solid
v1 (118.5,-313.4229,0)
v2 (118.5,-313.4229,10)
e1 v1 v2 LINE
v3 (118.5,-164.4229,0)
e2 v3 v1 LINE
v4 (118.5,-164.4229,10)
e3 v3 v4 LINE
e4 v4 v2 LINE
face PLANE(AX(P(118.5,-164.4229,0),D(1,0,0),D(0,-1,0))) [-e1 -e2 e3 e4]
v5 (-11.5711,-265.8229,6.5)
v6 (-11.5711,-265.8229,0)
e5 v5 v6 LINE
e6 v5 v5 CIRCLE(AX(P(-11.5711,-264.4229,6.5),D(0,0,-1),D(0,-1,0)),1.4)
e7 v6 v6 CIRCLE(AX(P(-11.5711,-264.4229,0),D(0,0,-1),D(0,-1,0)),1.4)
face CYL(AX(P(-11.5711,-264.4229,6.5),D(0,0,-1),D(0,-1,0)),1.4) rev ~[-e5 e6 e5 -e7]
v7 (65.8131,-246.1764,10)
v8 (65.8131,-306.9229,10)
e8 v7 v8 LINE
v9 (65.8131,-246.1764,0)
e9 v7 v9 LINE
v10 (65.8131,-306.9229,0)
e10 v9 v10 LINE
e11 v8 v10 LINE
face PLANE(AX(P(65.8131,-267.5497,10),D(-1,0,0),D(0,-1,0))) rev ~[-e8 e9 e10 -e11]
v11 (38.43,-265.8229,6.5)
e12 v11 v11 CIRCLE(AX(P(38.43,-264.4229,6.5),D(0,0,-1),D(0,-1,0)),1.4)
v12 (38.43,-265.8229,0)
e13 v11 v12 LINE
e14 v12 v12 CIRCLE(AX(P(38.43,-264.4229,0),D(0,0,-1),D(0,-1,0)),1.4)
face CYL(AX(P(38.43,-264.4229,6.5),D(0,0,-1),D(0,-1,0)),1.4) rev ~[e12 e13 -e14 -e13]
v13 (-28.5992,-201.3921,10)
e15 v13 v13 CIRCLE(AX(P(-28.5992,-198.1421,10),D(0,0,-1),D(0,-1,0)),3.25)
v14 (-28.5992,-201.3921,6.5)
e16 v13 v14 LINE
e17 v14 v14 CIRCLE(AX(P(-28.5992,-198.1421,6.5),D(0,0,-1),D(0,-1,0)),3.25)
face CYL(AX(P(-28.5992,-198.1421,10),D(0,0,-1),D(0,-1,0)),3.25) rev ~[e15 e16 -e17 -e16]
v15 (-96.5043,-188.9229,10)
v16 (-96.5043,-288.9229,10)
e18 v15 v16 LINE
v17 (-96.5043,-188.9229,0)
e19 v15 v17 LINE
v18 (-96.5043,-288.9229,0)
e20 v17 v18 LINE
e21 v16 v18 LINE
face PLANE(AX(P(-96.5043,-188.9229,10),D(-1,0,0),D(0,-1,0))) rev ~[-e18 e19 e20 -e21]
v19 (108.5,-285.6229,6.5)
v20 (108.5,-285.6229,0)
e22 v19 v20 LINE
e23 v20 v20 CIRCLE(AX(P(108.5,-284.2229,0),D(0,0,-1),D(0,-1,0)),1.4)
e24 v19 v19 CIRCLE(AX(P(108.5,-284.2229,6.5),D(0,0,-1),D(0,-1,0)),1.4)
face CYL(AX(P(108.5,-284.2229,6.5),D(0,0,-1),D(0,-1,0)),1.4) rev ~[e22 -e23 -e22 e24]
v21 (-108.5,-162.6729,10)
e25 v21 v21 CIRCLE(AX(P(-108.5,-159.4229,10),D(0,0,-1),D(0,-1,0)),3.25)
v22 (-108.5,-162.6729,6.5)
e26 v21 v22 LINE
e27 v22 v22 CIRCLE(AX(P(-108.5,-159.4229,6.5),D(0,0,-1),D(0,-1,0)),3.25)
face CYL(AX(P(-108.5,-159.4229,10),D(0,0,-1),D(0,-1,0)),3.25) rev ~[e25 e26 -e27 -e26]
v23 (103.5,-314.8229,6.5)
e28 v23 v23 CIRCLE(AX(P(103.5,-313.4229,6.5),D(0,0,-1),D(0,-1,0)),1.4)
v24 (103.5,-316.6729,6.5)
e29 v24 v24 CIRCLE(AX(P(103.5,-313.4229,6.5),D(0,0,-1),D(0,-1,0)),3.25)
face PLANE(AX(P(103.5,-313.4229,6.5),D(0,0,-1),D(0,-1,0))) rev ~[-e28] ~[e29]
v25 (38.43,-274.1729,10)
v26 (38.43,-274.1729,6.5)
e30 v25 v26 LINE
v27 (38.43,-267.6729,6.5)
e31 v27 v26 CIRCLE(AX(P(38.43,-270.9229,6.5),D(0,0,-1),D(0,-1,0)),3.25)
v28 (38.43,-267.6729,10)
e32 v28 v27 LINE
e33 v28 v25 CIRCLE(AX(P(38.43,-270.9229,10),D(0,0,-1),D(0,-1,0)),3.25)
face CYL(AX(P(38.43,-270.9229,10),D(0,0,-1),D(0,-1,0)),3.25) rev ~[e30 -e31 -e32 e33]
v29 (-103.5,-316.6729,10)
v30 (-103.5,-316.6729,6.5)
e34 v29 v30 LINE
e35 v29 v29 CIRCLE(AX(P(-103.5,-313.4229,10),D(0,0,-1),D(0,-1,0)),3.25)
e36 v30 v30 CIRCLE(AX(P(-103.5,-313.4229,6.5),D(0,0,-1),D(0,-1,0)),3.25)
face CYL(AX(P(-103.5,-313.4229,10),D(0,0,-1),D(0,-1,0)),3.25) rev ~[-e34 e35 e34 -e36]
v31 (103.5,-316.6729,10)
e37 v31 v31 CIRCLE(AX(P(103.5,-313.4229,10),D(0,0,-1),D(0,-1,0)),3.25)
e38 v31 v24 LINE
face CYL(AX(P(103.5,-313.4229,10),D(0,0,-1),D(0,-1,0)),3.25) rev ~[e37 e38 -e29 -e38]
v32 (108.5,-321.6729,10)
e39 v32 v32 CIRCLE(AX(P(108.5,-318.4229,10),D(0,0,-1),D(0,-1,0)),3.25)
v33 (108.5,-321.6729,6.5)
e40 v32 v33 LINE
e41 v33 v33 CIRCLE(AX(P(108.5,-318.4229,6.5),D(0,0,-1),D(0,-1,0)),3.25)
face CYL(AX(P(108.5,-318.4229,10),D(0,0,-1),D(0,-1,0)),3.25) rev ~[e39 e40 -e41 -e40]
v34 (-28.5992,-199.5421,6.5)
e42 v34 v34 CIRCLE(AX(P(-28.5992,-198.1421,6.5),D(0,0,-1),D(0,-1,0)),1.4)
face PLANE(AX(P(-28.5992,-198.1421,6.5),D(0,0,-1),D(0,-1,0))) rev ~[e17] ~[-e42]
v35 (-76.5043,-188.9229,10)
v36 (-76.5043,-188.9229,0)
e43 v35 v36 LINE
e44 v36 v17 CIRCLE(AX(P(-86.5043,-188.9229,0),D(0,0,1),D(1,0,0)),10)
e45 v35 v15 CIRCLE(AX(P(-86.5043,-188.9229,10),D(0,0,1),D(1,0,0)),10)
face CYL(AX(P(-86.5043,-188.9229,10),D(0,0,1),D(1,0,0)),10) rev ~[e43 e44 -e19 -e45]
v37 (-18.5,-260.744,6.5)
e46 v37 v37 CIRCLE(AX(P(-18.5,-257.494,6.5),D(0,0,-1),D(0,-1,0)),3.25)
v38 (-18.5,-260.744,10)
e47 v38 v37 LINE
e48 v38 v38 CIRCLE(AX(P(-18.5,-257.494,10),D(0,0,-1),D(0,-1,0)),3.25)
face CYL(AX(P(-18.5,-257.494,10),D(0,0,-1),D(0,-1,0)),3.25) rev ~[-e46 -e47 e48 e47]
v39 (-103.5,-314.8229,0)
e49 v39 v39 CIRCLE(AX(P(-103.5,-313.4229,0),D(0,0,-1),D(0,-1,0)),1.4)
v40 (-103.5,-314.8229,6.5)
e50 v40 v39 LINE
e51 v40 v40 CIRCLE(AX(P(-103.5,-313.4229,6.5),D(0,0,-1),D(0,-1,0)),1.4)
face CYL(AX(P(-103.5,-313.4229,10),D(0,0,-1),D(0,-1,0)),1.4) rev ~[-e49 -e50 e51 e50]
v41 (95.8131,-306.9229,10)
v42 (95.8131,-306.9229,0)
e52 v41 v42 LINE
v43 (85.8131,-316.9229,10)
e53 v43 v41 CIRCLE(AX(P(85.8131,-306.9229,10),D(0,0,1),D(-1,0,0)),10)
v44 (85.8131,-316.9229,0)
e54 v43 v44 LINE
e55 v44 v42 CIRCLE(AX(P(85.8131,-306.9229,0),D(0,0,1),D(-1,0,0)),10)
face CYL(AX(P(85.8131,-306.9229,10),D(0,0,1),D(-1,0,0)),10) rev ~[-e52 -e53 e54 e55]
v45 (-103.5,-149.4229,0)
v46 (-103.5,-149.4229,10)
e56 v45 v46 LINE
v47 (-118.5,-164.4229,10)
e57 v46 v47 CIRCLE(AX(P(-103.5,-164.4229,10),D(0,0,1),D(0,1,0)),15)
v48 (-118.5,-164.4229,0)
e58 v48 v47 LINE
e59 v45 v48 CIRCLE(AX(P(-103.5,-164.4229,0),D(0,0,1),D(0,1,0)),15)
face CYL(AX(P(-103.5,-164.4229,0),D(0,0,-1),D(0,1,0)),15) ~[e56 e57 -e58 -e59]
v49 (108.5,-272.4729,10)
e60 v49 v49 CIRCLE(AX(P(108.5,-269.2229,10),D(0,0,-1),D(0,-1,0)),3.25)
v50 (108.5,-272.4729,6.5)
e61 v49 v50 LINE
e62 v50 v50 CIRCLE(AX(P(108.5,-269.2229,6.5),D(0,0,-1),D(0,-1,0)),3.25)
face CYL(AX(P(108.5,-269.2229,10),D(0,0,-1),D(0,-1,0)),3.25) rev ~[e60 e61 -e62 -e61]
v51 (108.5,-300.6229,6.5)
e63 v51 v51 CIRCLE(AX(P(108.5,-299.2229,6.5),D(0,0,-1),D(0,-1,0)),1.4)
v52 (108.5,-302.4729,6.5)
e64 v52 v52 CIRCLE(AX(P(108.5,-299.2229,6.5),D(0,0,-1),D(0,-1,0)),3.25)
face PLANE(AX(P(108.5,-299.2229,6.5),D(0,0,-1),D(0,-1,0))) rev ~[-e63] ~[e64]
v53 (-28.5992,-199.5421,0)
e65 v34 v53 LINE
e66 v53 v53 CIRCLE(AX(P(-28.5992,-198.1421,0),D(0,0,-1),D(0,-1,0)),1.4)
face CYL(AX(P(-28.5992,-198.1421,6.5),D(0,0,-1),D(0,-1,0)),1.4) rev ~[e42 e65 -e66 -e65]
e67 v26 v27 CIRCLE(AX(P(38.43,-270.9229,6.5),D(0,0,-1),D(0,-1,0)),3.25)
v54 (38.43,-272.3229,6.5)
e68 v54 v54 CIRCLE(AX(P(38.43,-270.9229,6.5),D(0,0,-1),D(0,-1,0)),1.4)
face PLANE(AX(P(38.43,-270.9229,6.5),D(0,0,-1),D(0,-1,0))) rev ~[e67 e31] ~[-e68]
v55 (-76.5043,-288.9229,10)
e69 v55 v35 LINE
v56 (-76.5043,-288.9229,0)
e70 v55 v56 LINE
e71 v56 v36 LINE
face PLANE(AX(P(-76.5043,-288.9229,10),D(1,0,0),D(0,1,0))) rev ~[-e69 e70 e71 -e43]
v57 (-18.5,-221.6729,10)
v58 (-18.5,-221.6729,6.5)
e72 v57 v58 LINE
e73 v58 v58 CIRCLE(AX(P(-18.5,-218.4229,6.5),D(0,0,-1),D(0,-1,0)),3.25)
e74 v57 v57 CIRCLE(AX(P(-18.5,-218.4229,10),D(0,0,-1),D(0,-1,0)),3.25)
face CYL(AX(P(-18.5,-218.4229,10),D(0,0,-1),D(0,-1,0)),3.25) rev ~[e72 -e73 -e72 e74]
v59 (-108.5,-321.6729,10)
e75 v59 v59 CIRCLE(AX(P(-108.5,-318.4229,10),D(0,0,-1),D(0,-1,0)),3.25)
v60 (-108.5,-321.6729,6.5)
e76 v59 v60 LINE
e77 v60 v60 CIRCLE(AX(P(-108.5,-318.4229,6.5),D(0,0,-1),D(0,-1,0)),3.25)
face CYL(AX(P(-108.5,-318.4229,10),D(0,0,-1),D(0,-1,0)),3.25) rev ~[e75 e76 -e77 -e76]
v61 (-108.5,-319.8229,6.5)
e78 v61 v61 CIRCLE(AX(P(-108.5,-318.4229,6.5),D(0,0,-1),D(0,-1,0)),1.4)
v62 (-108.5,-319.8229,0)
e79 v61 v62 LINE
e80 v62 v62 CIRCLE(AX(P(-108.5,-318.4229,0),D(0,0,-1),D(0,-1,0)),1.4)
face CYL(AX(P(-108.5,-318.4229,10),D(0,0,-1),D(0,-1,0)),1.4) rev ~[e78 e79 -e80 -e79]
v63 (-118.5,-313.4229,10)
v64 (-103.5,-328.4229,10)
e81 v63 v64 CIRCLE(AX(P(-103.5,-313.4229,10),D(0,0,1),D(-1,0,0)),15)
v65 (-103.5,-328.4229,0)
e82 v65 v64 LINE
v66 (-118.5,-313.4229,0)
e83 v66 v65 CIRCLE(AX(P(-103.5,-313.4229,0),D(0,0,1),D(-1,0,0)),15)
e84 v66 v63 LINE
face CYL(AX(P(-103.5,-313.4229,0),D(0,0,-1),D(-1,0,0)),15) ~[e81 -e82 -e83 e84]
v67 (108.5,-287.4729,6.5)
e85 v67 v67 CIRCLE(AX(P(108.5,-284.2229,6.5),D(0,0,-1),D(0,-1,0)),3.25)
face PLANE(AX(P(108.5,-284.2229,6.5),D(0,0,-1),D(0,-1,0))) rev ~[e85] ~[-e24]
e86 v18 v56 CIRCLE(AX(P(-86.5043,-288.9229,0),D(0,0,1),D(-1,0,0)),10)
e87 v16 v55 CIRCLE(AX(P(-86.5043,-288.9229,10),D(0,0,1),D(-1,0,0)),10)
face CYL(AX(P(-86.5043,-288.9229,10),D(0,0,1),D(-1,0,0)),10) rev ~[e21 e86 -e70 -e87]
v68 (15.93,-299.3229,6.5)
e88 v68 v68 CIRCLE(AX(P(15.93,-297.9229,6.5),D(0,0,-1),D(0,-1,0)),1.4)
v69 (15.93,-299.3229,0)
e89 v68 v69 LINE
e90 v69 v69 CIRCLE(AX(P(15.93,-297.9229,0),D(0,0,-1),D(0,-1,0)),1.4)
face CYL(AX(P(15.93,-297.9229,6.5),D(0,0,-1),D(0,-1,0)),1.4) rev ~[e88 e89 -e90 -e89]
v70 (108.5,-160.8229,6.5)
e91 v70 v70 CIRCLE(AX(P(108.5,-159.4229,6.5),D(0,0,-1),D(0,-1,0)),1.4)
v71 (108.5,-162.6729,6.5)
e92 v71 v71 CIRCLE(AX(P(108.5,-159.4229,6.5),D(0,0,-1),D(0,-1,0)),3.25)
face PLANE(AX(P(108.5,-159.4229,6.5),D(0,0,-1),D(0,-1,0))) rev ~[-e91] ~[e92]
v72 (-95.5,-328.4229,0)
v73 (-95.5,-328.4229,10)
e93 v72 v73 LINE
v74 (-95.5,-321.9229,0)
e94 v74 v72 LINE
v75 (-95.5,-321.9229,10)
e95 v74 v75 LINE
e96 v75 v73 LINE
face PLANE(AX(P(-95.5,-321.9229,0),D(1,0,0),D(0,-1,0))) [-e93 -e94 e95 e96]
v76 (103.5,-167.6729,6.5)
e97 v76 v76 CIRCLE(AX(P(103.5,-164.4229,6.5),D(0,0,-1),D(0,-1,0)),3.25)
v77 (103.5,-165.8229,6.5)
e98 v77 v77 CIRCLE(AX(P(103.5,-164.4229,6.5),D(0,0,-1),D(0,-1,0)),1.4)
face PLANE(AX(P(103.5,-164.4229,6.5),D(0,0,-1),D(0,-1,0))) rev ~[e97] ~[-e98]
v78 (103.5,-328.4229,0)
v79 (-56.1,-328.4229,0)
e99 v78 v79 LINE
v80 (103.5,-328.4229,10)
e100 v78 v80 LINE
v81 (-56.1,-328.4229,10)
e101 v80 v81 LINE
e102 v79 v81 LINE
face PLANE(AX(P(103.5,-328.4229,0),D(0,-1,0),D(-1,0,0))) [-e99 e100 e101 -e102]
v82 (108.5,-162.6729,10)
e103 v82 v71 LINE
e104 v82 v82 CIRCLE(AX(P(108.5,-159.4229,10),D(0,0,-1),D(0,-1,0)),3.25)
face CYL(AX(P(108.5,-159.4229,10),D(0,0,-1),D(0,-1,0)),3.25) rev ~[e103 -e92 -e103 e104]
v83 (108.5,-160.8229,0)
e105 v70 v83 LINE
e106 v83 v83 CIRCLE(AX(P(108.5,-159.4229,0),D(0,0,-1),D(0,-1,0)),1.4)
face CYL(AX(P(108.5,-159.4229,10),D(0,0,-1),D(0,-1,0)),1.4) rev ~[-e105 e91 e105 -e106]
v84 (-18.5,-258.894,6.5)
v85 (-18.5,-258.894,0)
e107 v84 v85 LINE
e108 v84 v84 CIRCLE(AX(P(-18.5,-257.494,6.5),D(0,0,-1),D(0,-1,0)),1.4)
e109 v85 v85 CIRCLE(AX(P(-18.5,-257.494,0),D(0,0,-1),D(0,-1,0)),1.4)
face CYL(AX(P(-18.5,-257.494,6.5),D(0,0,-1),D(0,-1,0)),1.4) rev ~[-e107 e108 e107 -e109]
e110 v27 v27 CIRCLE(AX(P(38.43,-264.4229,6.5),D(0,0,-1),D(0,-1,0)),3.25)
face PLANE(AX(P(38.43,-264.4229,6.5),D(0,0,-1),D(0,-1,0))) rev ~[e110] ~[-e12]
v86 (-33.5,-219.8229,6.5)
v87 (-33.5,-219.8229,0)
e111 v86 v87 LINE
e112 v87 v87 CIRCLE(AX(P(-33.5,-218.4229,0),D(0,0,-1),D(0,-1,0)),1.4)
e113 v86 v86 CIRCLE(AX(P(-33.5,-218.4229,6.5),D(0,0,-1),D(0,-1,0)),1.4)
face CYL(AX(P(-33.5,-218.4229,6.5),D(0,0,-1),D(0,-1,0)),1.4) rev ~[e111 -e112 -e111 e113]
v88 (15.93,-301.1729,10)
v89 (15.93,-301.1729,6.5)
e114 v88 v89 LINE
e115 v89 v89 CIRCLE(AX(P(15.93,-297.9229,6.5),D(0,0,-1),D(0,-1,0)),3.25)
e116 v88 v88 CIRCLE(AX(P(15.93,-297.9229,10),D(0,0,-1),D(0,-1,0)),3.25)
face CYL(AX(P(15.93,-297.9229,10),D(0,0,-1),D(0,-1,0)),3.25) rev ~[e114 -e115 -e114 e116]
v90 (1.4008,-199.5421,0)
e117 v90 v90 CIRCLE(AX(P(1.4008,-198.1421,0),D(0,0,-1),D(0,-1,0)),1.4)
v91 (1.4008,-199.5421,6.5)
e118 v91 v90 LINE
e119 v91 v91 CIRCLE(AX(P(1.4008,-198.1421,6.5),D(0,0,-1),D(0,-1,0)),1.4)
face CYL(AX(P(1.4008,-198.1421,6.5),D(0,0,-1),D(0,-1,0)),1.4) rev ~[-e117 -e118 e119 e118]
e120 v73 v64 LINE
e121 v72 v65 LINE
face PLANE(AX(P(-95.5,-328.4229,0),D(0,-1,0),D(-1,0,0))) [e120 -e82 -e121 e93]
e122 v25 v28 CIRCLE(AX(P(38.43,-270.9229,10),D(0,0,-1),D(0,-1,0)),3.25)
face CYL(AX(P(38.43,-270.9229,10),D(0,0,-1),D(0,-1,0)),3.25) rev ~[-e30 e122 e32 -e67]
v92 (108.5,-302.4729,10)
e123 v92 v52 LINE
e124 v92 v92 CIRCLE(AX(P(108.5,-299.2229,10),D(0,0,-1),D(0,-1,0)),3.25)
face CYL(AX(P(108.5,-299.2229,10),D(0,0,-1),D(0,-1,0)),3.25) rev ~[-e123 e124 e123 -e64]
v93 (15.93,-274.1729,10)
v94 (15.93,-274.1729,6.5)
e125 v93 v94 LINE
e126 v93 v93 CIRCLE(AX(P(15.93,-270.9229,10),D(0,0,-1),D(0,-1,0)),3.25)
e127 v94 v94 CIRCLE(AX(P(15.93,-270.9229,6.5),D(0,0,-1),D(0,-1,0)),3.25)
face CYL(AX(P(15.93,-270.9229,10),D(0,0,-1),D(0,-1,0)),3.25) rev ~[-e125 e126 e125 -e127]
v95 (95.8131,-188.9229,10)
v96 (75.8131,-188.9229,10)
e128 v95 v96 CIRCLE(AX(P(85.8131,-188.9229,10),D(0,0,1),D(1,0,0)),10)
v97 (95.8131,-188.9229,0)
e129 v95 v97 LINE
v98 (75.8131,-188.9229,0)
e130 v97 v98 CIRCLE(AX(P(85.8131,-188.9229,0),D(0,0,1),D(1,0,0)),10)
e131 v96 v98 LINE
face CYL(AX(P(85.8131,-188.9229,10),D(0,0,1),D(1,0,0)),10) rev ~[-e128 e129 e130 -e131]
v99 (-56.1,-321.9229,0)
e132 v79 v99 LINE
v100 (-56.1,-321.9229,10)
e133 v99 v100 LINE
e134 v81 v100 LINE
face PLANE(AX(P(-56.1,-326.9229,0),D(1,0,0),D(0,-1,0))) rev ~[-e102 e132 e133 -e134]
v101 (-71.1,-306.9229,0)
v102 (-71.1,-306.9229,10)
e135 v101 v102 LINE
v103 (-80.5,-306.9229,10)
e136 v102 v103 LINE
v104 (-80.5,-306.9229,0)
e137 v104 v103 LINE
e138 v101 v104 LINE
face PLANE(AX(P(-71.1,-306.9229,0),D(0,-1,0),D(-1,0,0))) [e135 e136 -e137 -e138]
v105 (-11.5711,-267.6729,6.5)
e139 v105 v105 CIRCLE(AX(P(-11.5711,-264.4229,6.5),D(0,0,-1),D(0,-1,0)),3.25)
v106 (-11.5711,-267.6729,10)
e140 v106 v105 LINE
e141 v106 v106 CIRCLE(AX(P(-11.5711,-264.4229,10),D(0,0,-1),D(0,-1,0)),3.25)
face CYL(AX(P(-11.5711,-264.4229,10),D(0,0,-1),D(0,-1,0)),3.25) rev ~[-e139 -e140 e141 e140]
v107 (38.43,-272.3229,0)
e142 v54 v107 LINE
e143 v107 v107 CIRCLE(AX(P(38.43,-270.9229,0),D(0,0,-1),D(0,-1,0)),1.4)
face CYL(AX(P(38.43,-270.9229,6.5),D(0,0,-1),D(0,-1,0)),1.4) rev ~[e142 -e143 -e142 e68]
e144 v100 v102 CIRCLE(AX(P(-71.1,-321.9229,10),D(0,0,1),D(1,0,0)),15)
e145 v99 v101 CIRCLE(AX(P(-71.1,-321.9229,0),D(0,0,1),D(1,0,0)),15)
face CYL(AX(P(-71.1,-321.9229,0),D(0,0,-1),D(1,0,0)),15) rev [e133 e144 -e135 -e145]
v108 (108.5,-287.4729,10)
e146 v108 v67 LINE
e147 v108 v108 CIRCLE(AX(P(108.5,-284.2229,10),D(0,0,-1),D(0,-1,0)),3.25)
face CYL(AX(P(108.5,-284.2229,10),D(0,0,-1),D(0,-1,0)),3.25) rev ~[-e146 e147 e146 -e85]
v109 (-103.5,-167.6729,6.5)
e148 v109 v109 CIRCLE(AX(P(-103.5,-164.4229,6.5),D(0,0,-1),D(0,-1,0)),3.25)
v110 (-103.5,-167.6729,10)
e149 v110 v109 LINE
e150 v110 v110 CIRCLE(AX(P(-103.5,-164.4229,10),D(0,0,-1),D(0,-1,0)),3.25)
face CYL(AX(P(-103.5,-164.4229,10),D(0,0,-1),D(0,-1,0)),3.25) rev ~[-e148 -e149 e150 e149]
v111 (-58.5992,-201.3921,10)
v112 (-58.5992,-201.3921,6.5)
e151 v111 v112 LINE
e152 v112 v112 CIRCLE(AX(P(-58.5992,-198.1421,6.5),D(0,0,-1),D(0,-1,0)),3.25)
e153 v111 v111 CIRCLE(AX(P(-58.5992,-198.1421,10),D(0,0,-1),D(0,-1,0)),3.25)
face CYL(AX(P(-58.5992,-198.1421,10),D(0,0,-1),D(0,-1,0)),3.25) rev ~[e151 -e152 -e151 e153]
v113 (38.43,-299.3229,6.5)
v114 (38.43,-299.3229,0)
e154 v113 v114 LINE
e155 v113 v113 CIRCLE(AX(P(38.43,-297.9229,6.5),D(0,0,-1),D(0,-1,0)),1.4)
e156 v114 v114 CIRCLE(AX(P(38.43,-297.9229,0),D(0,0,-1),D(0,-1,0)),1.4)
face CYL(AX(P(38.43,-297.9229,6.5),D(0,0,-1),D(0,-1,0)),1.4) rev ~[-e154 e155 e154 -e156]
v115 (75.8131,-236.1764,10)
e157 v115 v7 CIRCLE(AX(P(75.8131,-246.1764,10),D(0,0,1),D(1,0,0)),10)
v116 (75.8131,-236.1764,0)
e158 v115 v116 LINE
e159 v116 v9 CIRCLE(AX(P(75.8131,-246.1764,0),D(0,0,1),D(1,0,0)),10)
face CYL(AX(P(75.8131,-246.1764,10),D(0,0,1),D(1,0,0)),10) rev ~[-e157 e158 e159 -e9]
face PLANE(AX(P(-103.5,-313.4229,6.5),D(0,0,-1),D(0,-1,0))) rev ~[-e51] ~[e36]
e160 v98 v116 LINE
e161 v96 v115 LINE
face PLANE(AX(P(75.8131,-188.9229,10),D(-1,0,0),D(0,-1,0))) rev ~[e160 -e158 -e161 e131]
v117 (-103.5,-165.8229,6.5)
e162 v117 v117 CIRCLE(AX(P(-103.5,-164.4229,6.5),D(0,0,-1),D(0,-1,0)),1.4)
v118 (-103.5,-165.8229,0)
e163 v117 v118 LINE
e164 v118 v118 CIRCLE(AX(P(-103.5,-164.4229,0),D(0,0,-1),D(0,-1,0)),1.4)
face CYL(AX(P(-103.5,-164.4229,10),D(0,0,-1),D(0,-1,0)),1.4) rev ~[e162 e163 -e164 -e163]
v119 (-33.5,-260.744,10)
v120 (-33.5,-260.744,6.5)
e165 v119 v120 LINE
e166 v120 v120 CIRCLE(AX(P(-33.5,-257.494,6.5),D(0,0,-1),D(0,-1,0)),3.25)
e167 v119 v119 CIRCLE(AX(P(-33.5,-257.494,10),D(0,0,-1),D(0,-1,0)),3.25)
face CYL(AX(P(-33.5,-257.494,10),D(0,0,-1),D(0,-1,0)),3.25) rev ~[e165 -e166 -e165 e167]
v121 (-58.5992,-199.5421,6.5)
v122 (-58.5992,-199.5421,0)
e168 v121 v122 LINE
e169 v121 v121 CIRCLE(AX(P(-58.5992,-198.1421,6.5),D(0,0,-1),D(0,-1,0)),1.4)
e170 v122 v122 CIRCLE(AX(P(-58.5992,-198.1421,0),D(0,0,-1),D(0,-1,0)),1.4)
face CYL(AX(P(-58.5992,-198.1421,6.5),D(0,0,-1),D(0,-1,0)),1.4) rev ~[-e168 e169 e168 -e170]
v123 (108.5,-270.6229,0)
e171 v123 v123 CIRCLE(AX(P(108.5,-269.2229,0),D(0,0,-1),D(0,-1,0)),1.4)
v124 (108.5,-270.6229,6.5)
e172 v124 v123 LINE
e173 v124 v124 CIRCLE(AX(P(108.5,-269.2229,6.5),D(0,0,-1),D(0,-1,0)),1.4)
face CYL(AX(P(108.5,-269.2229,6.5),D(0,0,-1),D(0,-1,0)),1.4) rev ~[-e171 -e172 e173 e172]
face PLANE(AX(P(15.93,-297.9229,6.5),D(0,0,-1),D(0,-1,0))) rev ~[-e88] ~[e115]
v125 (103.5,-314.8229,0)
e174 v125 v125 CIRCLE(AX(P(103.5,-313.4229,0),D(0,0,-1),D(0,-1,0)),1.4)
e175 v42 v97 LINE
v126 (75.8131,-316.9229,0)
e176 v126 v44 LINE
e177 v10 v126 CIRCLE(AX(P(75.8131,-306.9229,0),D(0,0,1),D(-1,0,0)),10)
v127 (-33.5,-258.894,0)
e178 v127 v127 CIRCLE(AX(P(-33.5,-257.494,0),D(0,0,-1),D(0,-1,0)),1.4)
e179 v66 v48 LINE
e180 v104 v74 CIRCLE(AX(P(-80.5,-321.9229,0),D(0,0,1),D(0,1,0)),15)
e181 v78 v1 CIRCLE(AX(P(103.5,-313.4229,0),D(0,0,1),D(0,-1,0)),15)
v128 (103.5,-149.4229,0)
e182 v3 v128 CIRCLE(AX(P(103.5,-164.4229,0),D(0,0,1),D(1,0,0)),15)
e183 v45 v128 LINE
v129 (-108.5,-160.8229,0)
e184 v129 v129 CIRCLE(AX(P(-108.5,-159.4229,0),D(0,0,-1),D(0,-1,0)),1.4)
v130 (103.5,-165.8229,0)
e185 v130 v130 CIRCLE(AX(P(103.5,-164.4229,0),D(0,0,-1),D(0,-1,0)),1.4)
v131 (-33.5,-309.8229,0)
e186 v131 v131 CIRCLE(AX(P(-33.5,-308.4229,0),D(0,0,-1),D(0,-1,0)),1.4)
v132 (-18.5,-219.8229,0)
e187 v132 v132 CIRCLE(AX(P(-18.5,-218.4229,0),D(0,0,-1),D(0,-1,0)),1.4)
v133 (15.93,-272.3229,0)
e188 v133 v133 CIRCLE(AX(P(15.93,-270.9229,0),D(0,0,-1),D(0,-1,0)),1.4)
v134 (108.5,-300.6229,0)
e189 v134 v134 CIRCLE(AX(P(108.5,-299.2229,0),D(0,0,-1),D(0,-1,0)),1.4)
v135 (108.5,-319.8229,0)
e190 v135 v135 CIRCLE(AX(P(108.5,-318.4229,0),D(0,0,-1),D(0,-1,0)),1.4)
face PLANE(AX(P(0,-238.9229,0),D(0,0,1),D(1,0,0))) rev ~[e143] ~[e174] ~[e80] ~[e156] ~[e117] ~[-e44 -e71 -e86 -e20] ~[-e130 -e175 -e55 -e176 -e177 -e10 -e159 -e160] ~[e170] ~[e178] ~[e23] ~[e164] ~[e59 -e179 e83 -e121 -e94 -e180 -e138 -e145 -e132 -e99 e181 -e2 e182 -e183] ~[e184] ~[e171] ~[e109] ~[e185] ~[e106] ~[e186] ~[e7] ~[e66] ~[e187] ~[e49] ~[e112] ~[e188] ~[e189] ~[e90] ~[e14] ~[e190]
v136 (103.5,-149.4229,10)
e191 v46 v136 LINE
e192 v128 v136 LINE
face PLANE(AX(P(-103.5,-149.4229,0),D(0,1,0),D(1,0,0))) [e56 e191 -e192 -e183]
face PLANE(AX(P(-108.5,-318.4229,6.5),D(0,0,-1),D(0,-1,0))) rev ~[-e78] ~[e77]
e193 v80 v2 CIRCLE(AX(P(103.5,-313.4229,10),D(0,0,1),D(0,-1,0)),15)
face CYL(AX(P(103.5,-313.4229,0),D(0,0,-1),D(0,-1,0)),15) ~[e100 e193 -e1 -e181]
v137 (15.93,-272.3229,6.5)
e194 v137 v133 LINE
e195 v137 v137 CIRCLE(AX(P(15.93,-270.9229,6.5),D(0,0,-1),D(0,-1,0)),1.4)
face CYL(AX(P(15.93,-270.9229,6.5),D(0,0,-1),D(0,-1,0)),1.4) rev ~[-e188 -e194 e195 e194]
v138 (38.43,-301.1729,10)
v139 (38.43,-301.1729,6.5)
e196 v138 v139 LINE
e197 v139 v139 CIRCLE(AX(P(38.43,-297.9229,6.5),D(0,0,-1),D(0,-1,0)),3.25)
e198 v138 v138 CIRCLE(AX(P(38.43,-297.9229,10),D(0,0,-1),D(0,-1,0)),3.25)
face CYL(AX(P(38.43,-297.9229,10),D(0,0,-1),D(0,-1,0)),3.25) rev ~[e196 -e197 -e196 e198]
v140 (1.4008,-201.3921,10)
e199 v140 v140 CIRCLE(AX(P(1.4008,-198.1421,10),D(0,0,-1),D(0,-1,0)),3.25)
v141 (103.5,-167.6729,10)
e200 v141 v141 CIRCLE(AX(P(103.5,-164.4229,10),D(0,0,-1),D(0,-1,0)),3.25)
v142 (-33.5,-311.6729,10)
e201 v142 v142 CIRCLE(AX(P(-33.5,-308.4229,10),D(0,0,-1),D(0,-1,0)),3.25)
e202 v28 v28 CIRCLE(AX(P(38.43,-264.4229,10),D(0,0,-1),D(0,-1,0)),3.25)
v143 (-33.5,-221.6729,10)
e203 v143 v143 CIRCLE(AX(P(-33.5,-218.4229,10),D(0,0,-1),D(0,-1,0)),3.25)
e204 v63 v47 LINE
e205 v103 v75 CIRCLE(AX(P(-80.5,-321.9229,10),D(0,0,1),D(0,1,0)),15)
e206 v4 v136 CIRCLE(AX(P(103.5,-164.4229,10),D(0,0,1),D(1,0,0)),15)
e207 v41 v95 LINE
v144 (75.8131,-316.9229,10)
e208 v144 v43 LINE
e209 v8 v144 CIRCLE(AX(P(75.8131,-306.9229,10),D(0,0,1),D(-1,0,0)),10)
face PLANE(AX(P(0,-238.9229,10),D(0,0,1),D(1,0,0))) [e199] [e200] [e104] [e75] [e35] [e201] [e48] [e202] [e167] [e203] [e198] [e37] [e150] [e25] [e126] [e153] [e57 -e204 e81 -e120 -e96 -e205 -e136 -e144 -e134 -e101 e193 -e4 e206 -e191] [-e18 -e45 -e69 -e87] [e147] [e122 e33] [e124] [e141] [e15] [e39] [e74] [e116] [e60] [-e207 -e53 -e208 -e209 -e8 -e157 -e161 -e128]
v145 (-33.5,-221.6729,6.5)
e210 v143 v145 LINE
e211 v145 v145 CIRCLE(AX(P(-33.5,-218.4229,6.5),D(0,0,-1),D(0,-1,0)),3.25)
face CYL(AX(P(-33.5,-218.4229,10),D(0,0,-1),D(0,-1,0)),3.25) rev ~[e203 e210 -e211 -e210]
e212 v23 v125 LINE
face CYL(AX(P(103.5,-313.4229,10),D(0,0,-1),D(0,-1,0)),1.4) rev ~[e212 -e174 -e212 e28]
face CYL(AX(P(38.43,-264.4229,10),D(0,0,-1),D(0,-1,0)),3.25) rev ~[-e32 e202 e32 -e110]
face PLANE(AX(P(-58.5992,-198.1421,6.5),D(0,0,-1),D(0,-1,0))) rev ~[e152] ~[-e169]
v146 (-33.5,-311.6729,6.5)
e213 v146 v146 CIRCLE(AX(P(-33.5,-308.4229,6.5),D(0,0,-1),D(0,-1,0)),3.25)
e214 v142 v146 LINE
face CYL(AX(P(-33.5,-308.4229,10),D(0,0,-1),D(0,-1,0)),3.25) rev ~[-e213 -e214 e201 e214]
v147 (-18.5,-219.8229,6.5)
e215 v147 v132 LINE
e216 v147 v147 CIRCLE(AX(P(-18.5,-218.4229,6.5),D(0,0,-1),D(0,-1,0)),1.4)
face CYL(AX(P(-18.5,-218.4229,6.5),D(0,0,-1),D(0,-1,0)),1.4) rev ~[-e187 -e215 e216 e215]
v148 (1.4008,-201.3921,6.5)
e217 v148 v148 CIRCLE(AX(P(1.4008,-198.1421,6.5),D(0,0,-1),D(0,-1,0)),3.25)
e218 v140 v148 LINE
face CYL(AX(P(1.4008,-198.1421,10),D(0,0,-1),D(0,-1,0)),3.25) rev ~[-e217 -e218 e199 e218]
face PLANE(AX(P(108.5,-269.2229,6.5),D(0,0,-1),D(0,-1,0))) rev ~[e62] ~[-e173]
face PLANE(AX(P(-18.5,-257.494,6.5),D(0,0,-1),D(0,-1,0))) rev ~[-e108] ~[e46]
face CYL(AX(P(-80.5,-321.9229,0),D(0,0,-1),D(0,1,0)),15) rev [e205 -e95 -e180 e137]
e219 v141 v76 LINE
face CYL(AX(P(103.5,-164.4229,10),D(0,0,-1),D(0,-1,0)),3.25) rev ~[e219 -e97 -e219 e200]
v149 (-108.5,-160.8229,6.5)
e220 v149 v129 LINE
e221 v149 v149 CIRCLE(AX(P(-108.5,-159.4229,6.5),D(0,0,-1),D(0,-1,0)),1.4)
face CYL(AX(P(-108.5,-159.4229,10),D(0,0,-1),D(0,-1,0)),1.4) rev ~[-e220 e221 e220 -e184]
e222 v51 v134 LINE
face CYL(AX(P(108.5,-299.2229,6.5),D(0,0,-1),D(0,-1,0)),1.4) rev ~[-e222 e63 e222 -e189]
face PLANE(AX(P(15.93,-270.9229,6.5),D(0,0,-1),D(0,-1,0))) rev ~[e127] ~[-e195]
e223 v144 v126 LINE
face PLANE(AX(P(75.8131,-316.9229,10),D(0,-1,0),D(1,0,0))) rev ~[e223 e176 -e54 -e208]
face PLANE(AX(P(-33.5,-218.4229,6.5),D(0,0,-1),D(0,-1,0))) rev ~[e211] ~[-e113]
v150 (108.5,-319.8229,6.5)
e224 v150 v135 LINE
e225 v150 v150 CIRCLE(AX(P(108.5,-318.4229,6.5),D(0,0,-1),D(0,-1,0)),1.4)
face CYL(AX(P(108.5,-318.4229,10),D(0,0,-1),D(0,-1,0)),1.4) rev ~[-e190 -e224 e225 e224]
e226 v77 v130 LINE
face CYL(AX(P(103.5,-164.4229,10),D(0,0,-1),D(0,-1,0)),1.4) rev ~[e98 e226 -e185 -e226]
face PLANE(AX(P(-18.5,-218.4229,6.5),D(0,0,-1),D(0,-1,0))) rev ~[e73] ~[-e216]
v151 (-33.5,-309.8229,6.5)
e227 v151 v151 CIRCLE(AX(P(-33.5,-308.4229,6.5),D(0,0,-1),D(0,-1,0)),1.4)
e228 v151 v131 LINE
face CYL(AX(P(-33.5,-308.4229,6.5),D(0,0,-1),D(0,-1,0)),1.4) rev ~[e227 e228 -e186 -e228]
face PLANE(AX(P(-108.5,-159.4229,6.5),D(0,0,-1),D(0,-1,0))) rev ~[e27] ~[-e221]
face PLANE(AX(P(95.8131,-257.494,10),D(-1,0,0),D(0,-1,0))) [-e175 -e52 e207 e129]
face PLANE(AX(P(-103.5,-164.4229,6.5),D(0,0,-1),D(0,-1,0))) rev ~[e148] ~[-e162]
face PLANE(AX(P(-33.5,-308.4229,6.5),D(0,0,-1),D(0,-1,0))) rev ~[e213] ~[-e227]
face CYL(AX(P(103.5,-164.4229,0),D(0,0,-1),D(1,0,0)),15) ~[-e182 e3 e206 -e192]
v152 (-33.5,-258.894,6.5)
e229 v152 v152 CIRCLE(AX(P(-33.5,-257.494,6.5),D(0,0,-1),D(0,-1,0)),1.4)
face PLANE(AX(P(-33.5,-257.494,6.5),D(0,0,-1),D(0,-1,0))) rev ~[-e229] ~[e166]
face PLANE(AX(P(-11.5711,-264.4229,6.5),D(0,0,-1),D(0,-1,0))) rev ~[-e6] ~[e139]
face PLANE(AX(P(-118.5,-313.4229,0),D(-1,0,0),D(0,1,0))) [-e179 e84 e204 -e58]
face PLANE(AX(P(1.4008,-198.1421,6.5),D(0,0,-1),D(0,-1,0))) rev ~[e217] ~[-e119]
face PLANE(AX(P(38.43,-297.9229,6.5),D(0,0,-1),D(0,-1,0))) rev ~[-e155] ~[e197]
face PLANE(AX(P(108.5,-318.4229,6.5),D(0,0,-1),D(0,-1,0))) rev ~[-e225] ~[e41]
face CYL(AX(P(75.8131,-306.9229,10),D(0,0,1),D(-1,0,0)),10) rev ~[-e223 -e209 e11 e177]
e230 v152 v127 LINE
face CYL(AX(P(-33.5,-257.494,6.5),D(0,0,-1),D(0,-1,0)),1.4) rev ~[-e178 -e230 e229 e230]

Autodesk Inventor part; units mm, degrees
ref_plane "YZ Plane" through (0, 0, 0) normal (1, 0, 0) x (0, 1, 0)
ref_plane "XZ Plane" through (0, 0, 0) normal (0, 1, 0) x (-1, 0, 0)
ref_plane "XY Plane" through (0, 0, 0) normal (0, 0, 1) x (1, 0, 0)
ref_plane "Arbeitsebene1" through (0, -238.9229, -15) normal (0, 0, 1) x (1, 0, 0)
sketch "Skizze1" plane through (0, -238.9229, 0) normal (0, 0, 1) x (1, 0, 0)
  line L0 (-108.9123, -85.8768) -> (-108, -84.9645) construction
  line L1 (-108, -84.9645) -> (-105.5687, -87.3957) construction
  arc A0 (-105.5687, -87.3957) -> (-101.5, -88) centre (-101.5, -74) ccw construction
  line L2 (-101.5, -88) -> (-95.5, -88) construction
  line L3 (-95.5, -88) -> (-95.5, -75) construction
  arc A1 (-88.5, -68) -> (-95.5, -75) centre (-88.5, -75) ccw construction
  line L4 (-88.5, -68) -> (-62.5, -68) construction
  arc A2 (-55.5, -75) -> (-62.5, -68) centre (-62.5, -75) ccw construction
  line L5 (-55.5, -75) -> (-55.5, -88) construction
  line L6 (-55.5, -88) -> (101.7625, -88) construction
  arc A3 (101.7625, -88) -> (115.5, -74) centre (101.5, -74.0025) ccw construction
  line L7 (115.5, -74) -> (115.5, 74) construction
  arc A4 (115.5, 74) -> (101.7625, 88) centre (101.5, 74.0025) ccw construction
  line L8 (101.7625, 88) -> (-101.5, 88) construction
  arc A5 (-101.5, 88) -> (-115.5, 74) centre (-101.5, 74) ccw construction
  line L9 (-115.5, 74) -> (-115.5, -74) construction
  arc A6 (-115.5, -74) -> (-108.9123, -85.8768) centre (-101.5, -74) ccw construction
  line L10 (101.6984, -82) -> (101.3016, -82) construction
  arc A7 (101.3016, -82) -> (101.6984, -82) centre (101.5, -74.0025) ccw construction
  line L11 (95.5, 73) -> (95.5, 82) construction
  arc A8 (95.5, 73) -> (100.5, 68) centre (100.5, 73) ccw construction
  line L12 (109.5, 68) -> (100.5, 68) construction
  line L13 (109.5, 68) -> (109.5, -68) construction
  line L14 (100.5, -68) -> (109.5, -68) construction
  arc A9 (100.5, -68) -> (95.5, -73) centre (100.5, -73) ccw construction
  line L15 (95.5, -82) -> (95.5, -73) construction
  line L16 (95.5, -82) -> (-49.5, -82) construction
  line L17 (-49.5, -82) -> (-49.5, -75) construction
  arc A10 (-49.5, -75) -> (-62.5, -62) centre (-62.5, -75) ccw construction
  line L18 (-62.5, -62) -> (-88.5, -62) construction
  arc A11 (-88.5, -62) -> (-99.5163, -68.0977) centre (-88.5, -75) ccw construction
  arc A12 (-99.5163, -68.0977) -> (-100.5, -68) centre (-100.5, -73) ccw construction
  line L19 (-109.5, -68) -> (-100.5, -68) construction
  line L20 (-109.5, -68) -> (-109.5, 68) construction
  line L21 (-100.5, 68) -> (-109.5, 68) construction
  arc A13 (-100.5, 68) -> (-95.5, 73) centre (-100.5, 73) ccw construction
  line L22 (-95.5, 82) -> (-95.5, 73) construction
  line L23 (-95.5, 82) -> (95.5, 82) construction
  arc A14 (101.6984, 82) -> (101.3016, 82) centre (101.5, 74.0025) ccw construction
  line L24 (101.3016, 82) -> (101.6984, 82) construction
  line L25 (111.5331, 80.5) -> (107.9975, 76.9645) construction
  line L26 (107.9975, 76.9645) -> (104.462, 80.5) construction
  line L27 (104.462, 80.5) -> (107.9975, 84.0355) construction
  line L28 (107.9975, 84.0355) -> (111.5331, 80.5) construction
  line L29 (108, -84.0355) -> (104.4645, -80.5) construction
  line L30 (104.4645, -80.5) -> (108, -76.9645) construction
  line L31 (108, -76.9645) -> (111.5355, -80.5) construction
  line L32 (111.5355, -80.5) -> (108, -84.0355) construction
  line L33 (-108, 76.9645) -> (-111.5355, 80.5) construction
  line L34 (-111.5355, 80.5) -> (-108, 84.0355) construction
  line L35 (-108, 84.0355) -> (-104.4645, 80.5) construction
  line L36 (-104.4645, 80.5) -> (-108, 76.9645) construction
  circle A15 centre (58.5, 18.7) radius 1.4 projected
  circle A16 centre (58.5, 36.552) radius 1.4 projected
  circle A17 centre (-57.5, 20.252) radius 1.4 projected
  circle A18 centre (-57.5, 35) radius 1.4 projected
  line L37 (-60.5, 13.7) -> (-60.5, 38) construction
  line L38 (61.5, 13.7) -> (-60.5, 13.7) construction
  line L39 (61.5, 38) -> (61.5, 13.7) construction
  line L40 (61.5, 38) -> (-60.5, 38) construction
  circle A19 centre (58.5, 8.7) radius 1.4 projected
  circle A20 centre (58.5, -9.152) radius 1.4 projected
  circle A21 centre (-57.5, 7.148) radius 1.4 projected
  circle A22 centre (-57.5, -7.6) radius 1.4 projected
  line L41 (-60.5, 13.7) -> (-60.5, -10.6) construction
  line L42 (61.5, -10.6) -> (-60.5, -10.6) construction
  line L43 (61.5, -10.6) -> (61.5, 13.7) construction
  line L44 (61.5, 13.7) -> (-60.5, 13.7) construction
  line L45 (-103.5, 89.5) -> (103.5, 89.5)
  line L46 (118.5, 74.5) -> (118.5, -74.5)
  line L47 (103.5, -89.5) -> (-103.5, -89.5)
  line L48 (-118.5, -74.5) -> (-118.5, 74.5)
  arc A23 (-118.5, -74.5) -> (-103.5, -89.5) centre (-103.5, -74.5) ccw
  arc A24 (-103.5, 89.5) -> (-118.5, 74.5) centre (-103.5, 74.5) ccw
  arc A25 (118.5, 74.5) -> (103.5, 89.5) centre (103.5, 74.5) ccw
  arc A26 (103.5, -89.5) -> (118.5, -74.5) centre (103.5, -74.5) ccw
  line L49 (-95.5, -88) -> (-56.1, -88)
  line L50 (-56.1, -88) -> (-56.1, -83)
  line L51 (-71.1, -68) -> (-80.5, -68)
  line L52 (-95.5, -83) -> (-95.5, -88)
  arc A27 (-80.5, -68) -> (-95.5, -83) centre (-80.5, -83) ccw
  arc A28 (-56.1, -83) -> (-71.1, -68) centre (-71.1, -83) ccw
  line L53 (-95.5, -88) -> (-56.1, -88)
  line L54 (-56.1, -88) -> (-56.1, -89.5)
  line L55 (-56.1, -89.5) -> (-95.5, -89.5)
  line L56 (-95.5, -89.5) -> (-95.5, -88)
  point P0 (0, 238.9229)
  point P1 (-103.5567, -87.8481)
  point P2 (-95.5, -87.3481)
  point P3 (-56.1, -87.3481)
  point P4 (-56.1, -88)
  dimension "d0" = 3
  dimension "d1" = 3
  dimension "d4" = 15
  dimension "d5" = 15
  dimension "d42" = 1.5
  dimension "d43" = 1.5
extrude "Extrusion1" add sketch "Skizze1" along normal blind 10 contours A15 | A16 | A17 | A18 | A19 | A20 | A21 | A22 | L45 A25 L46 A26 L47 L54 L50 A28 L51 A27 L52 L56 A23 L48 A24
sketch "Skizze3" plane through (0, -238.9229, 10) normal (0, 0, 1) x (1, 0, 0)
  line L0 (118.5, -74.5) -> (118.5, 74.5) projected
  arc A0 (118.5, 74.5) -> (103.5, 89.5) centre (103.5, 74.5) ccw projected
  line L1 (103.5, 89.5) -> (-103.5, 89.5) projected
  arc A1 (-103.5, 89.5) -> (-118.5, 74.5) centre (-103.5, 74.5) ccw projected
  line L2 (-118.5, 74.5) -> (-118.5, -74.5) projected
  arc A2 (-118.5, -74.5) -> (-103.5, -89.5) centre (-103.5, -74.5) ccw projected
  line L3 (-103.5, -89.5) -> (-95.5, -89.5) projected
  line L4 (-95.5, -89.5) -> (-95.5, -83) projected
  arc A3 (-80.5, -68) -> (-95.5, -83) centre (-80.5, -83) ccw projected
  line L5 (-80.5, -68) -> (-71.1, -68) projected
  arc A4 (-56.1, -83) -> (-71.1, -68) centre (-71.1, -83) ccw projected
  line L6 (-56.1, -83) -> (-56.1, -89.5) projected
  arc A5 (103.5, -89.5) -> (118.5, -74.5) centre (103.5, -74.5) ccw projected
  line L7 (-56.1, -89.5) -> (103.5, -89.5) projected
  line L8 (103.5, -74.5) -> (-103.5, -74.5)
  line L9 (-103.5, -74.5) -> (-103.5, 74.5)
  line L10 (-103.5, 74.5) -> (103.5, 74.5)
  line L11 (103.5, 74.5) -> (103.5, -74.5)
  line L12 (-108.5, -79.5) -> (108.5, -79.5)
  line L13 (108.5, -79.5) -> (108.5, 79.5)
  line L14 (108.5, 79.5) -> (-108.5, 79.5)
  line L15 (-108.5, 79.5) -> (-108.5, -79.5)
  point P0 (0, 238.9229)
  dimension "d56" = 5
hole "Bohrung1" at (-103.5, -164.4229, 10) at (-103.5, -313.4229, 10) at (103.5, -313.4229, 10) at (103.5, -164.4229, 10) at (108.5, -159.4229, 10) at (108.5, -318.4229, 10) at (-108.5, -159.4229, 10) at (-108.5, -318.4229, 10) direction (0, 0, -1) diameter 2.8 end through all
ref_plane "Arbeitsebene2" through (0, -313.4229, 0) normal (-1, 0, 0) x (0, 0, 1)
mirror "Spiegeln1" about plane through (0, -313.4229, 0) normal (-1, 0, 0) of "Bohrung1"
sketch "Skizze6" plane through (0, -238.9229, 10) normal (0, 0, 1) x (1, 0, 0)
  circle A0 centre (103.5, 74.5) radius 1.4 projected
  circle A1 centre (103.5, -74.5) radius 1.4 projected
  circle A2 centre (-103.5, -74.5) radius 1.4 projected
  circle A3 centre (-103.5, 74.5) radius 1.4 projected
  line L0 (118.5, -74.5) -> (118.5, 74.5) projected
  arc A4 (118.5, 74.5) -> (103.5, 89.5) centre (103.5, 74.5) ccw projected
  line L1 (103.5, 89.5) -> (-103.5, 89.5) projected
  arc A5 (-103.5, 89.5) -> (-118.5, 74.5) centre (-103.5, 74.5) ccw projected
  line L2 (-118.5, 74.5) -> (-118.5, -74.5) projected
  arc A6 (-118.5, -74.5) -> (-103.5, -89.5) centre (-103.5, -74.5) ccw projected
  line L3 (-103.5, -89.5) -> (-95.5, -89.5) projected
  line L4 (-95.5, -89.5) -> (-95.5, -83) projected
  arc A7 (-80.5, -68) -> (-95.5, -83) centre (-80.5, -83) ccw projected
  line L5 (-80.5, -68) -> (-71.1, -68) projected
  arc A8 (-56.1, -83) -> (-71.1, -68) centre (-71.1, -83) ccw projected
  line L6 (-56.1, -83) -> (-56.1, -89.5) projected
  line L7 (-56.1, -89.5) -> (103.5, -89.5) projected
  arc A9 (103.5, -89.5) -> (118.5, -74.5) centre (103.5, -74.5) ccw projected
  line L8 (85.8131, 50) -> (85.8131, -50) construction
  line L9 (75.8131, 50) -> (75.8131, -50)
  line L10 (95.8131, -50) -> (95.8131, 50)
  arc A10 (95.8131, 50) -> (75.8131, 50) centre (85.8131, 50) ccw
  arc A11 (75.8131, -50) -> (95.8131, -50) centre (85.8131, -50) ccw
  line L11 (-86.5043, 50) -> (-86.5043, -50) construction
  line L12 (-96.5043, 50) -> (-96.5043, -50)
  line L13 (-76.5043, -50) -> (-76.5043, 50)
  arc A12 (-76.5043, 50) -> (-96.5043, 50) centre (-86.5043, 50) ccw
  arc A13 (-96.5043, -50) -> (-76.5043, -50) centre (-86.5043, -50) ccw
  point P0 (0, 238.9229)
  point P1 (85.8131, 0)
  point P2 (-86.5043, 0)
  dimension "d44" = 50
  dimension "d45" = 20
  dimension "d46" = 20
extrude "Extrusion4" cut sketch "Skizze6" against normal through all contours A10 L10 A11 L9 | A12 L13 A13 L12
sketch "Skizze8" plane through (0, -238.9229, 10) normal (0, 0, 1) x (1, 0, 0)
  circle A0 centre (27.18, -45.5) radius 10 projected
  circle A1 centre (15.93, -59) radius 2 projected
  circle A2 centre (15.93, -32) radius 2 projected
  circle A3 centre (38.43, -32) radius 2 projected
  circle A4 centre (38.43, -59) radius 2 projected
  circle A5 centre (-33.5, -69.5) radius 2 projected
  circle A6 centre (38.43, -25.5) radius 2 projected
  circle A7 centre (-11.5711, -25.5) radius 2 projected
  circle A8 centre (-33.5, 20.5) radius 2 projected
  circle A9 centre (-18.5, 20.5) radius 2 projected
  circle A10 centre (-18.5, -18.5711) radius 2 projected
  circle A11 centre (-33.5, -18.5711) radius 2 projected
  line L0 (41.43, -22.5) -> (41.43, -72.5) projected
  line L1 (-10.3284, -22.5) -> (41.43, -22.5) projected
  line L2 (-15.5, -17.3284) -> (-10.3284, -22.5) projected
  line L3 (-15.5, 23.5) -> (-15.5, -17.3284) projected
  line L4 (-36.5, 23.5) -> (-15.5, 23.5) projected
  line L5 (-36.5, -72.5) -> (-36.5, 23.5) projected
  line L6 (41.43, -72.5) -> (-36.5, -72.5) projected
  line L7 (-76.5043, -50) -> (-76.5043, 50) projected
  arc A12 (-76.5043, 50) -> (-96.5043, 50) centre (-86.5043, 50) ccw projected
  line L8 (-96.5043, 50) -> (-96.5043, -50) projected
  arc A13 (-96.5043, -50) -> (-76.5043, -50) centre (-86.5043, -50) ccw projected
  line L9 (95.8131, -50) -> (95.8131, 50) projected
  arc A14 (95.8131, 50) -> (75.8131, 50) centre (85.8131, 50) ccw projected
  line L10 (75.8131, 50) -> (75.8131, -50) projected
  arc A15 (75.8131, -50) -> (95.8131, -50) centre (85.8131, -50) ccw projected
  circle A16 centre (-108.5, -79.5) radius 1.4 projected
  circle A17 centre (-108.5, 79.5) radius 1.4 projected
  circle A18 centre (108.5, -79.5) radius 1.4 projected
  circle A19 centre (108.5, 79.5) radius 1.4 projected
  circle A20 centre (103.5, 74.5) radius 1.4 projected
  circle A21 centre (103.5, -74.5) radius 1.4 projected
  circle A22 centre (-103.5, -74.5) radius 1.4 projected
  circle A23 centre (-103.5, 74.5) radius 1.4 projected
  line L11 (118.5, -74.5) -> (118.5, 74.5) projected
  arc A24 (103.5, -89.5) -> (118.5, -74.5) centre (103.5, -74.5) ccw projected
  line L12 (-56.1, -89.5) -> (103.5, -89.5) projected
  line L13 (-56.1, -83) -> (-56.1, -89.5) projected
  arc A25 (-56.1, -83) -> (-71.1, -68) centre (-71.1, -83) ccw projected
  line L14 (-80.5, -68) -> (-71.1, -68) projected
  arc A26 (-80.5, -68) -> (-95.5, -83) centre (-80.5, -83) ccw projected
  line L15 (-95.5, -89.5) -> (-95.5, -83) projected
  line L16 (-103.5, -89.5) -> (-95.5, -89.5) projected
  arc A27 (-118.5, -74.5) -> (-103.5, -89.5) centre (-103.5, -74.5) ccw projected
  line L17 (-118.5, 74.5) -> (-118.5, -74.5) projected
  arc A28 (-103.5, 89.5) -> (-118.5, 74.5) centre (-103.5, 74.5) ccw projected
  line L18 (103.5, 89.5) -> (-103.5, 89.5) projected
  arc A29 (118.5, 74.5) -> (103.5, 89.5) centre (103.5, 74.5) ccw projected
  line L19 (113.5, -25.3) -> (113.5, -65.3) projected
  line L20 (103.5, -25.3) -> (113.5, -25.3) projected
  line L21 (103.5, -65.3) -> (103.5, -25.3) projected
  line L22 (113.5, -65.3) -> (103.5, -65.3) projected
  circle A30 centre (108.5, -45.3) radius 1.4 projected
  circle A31 centre (108.5, -60.3) radius 1.4 projected
  circle A32 centre (108.5, -30.3) radius 1.4 projected
  circle A33 centre (1.4008, 40.7808) radius 1.4 projected
  circle A34 centre (-28.5992, 40.7808) radius 1.4 projected
  circle A35 centre (-58.5992, 40.7808) radius 1.4 projected
  line L23 (9.5973, 59.5) -> (-76.5, 59.5) projected
  line L24 (-76.5, 59.5) -> (-76.5, 34.5) projected
  line L25 (-76.5, 34.5) -> (9.5973, 34.5) projected
  line L26 (9.5973, 59.5) -> (9.5973, 34.5) projected
  point P0 (0, 238.9229)
  point P1 (107.1, -45.3)
hole "Bohrung4" at (-108.5, -159.4229, 10) at (-103.5, -164.4229, 10) at (-108.5, -318.4229, 10) at (-103.5, -313.4229, 10) at (-33.5, -308.4229, 10) at (-33.5, -257.494, 10) at (-18.5, -257.494, 10) at (-11.5711, -264.4229, 10) at (-33.5, -218.4229, 10) at (-18.5, -218.4229, 10) at (15.93, -270.9229, 10) at (38.43, -270.9229, 10) at (38.43, -264.4229, 10) at (38.43, -297.9229, 10) at (15.93, -297.9229, 10) at (108.5, -318.4229, 10) at (103.5, -313.4229, 10) at (108.5, -299.2229, 10) at (108.5, -269.2229, 10) at (108.5, -284.2229, 10) at (103.5, -164.4229, 10) at (108.5, -159.4229, 10) at (-58.5992, -198.1421, 10) at (-28.5992, -198.1421, 10) at (1.4008, -198.1421, 10) direction (0, 0, -1) diameter 2.8 depth 20 counterbore diameter 6.5 counterbore depth 3.5
sketch "Skizze9" plane through (0, -238.9229, 10) normal (0, 0, 1) x (1, 0, 0)
  line L0 (78.5, -24.5) -> (78.5, -61.5) projected
  circle A0 centre (108.5, -45.3) radius 3.25 projected
  circle A1 centre (108.5, -30.3) radius 3.25 projected
  circle A2 centre (108.5, -60.3) radius 3.25 projected
  circle A3 centre (15.93, -59) radius 3.25 projected
  circle A4 centre (38.43, -59) radius 3.25 projected
  circle A5 centre (15.93, -32) radius 3.25 projected
  circle A6 centre (-18.5, 20.5) radius 3.25 projected
  circle A7 centre (-33.5, 20.5) radius 3.25 projected
  circle A8 centre (-11.5711, -25.5) radius 3.25 projected
  circle A9 centre (-18.5, -18.5711) radius 3.25 projected
  circle A10 centre (-33.5, -18.5711) radius 3.25 projected
  circle A11 centre (-33.5, -69.5) radius 3.25 projected
  circle A12 centre (103.5, 74.5) radius 3.25 projected
  circle A13 centre (108.5, -79.5) radius 3.25 projected
  circle A14 centre (38.43, -25.5) radius 3.25 projected
  circle A15 centre (38.43, -32) radius 3.25 projected
  circle A16 centre (-108.5, -79.5) radius 3.25 projected
  circle A17 centre (-108.5, 79.5) radius 3.25 projected
  circle A18 centre (-103.5, 74.5) radius 3.25 projected
  circle A19 centre (-103.5, -74.5) radius 3.25 projected
  circle A20 centre (103.5, -74.5) radius 3.25 projected
  circle A21 centre (108.5, 79.5) radius 3.25 projected
  line L1 (-76.5043, 50) -> (-76.5043, -50) projected
  arc A22 (-96.5043, -50) -> (-76.5043, -50) centre (-86.5043, -50) ccw projected
  line L2 (-96.5043, -50) -> (-96.5043, 50) projected
  arc A23 (-76.5043, 50) -> (-96.5043, 50) centre (-86.5043, 50) ccw projected
  line L3 (95.8131, 50) -> (95.8131, -50) projected
  arc A24 (75.8131, -50) -> (95.8131, -50) centre (85.8131, -50) ccw projected
  line L4 (75.8131, -50) -> (75.8131, 50) projected
  arc A25 (95.8131, 50) -> (75.8131, 50) centre (85.8131, 50) ccw projected
  line L5 (118.5, -74.5) -> (118.5, 74.5) projected
  arc A26 (118.5, 74.5) -> (103.5, 89.5) centre (103.5, 74.5) ccw projected
  line L6 (103.5, 89.5) -> (-103.5, 89.5) projected
  arc A27 (-103.5, 89.5) -> (-118.5, 74.5) centre (-103.5, 74.5) ccw projected
  line L7 (-118.5, 74.5) -> (-118.5, -74.5) projected
  arc A28 (-118.5, -74.5) -> (-103.5, -89.5) centre (-103.5, -74.5) ccw projected
  line L8 (-103.5, -89.5) -> (-95.5, -89.5) projected
  line L9 (-95.5, -89.5) -> (-95.5, -83) projected
  arc A29 (-80.5, -68) -> (-95.5, -83) centre (-80.5, -83) ccw projected
  line L10 (-80.5, -68) -> (-71.1, -68) projected
  arc A30 (-56.1, -83) -> (-71.1, -68) centre (-71.1, -83) ccw projected
  line L11 (-56.1, -83) -> (-56.1, -89.5) projected
  line L12 (-56.1, -89.5) -> (103.5, -89.5) projected
  arc A31 (103.5, -89.5) -> (118.5, -74.5) centre (103.5, -74.5) ccw projected
  line L13 (75.8131, -50) -> (75.8131, -7.2535) construction
  line L14 (85.8131, -50) -> (85.8131, -7.2535)
  line L15 (65.8131, -7.2535) -> (65.8131, -50)
  arc A32 (65.8131, -50) -> (85.8131, -50) centre (75.8131, -50) ccw
  arc A33 (85.8131, -7.2535) -> (65.8131, -7.2535) centre (75.8131, -7.2535) ccw
  line L16 (85.8131, -60) -> (75.8131, -60)
  line L17 (85.8131, -18.5711) -> (85.8131, -68) construction
  line L18 (75.8131, -18.5711) -> (75.8131, -68)
  line L19 (95.8131, -68) -> (95.8131, -18.5711)
  arc A34 (95.8131, -18.5711) -> (75.8131, -18.5711) centre (85.8131, -18.5711) ccw
  arc A35 (75.8131, -68) -> (95.8131, -68) centre (85.8131, -68) ccw
  line L20 (75.8131, -28.6268) -> (75.8131, -68) construction
  line L21 (85.8131, -28.6268) -> (85.8131, -68)
  line L22 (65.8131, -68) -> (65.8131, -28.6268)
  arc A36 (85.8131, -28.6268) -> (65.8131, -28.6268) centre (75.8131, -28.6268) ccw
  arc A37 (65.8131, -68) -> (85.8131, -68) centre (75.8131, -68) ccw
  line L23 (75.8131, -78) -> (85.8131, -78)
  point P0 (0, 238.9229)
  point P1 (38.43, -28.75)
  point P2 (75.8131, 2.7465)
  point P3 (85.8131, -43.2855)
  point P4 (95.8131, -50)
  point P5 (75.8131, -48.3134)
  point P6 (65.8131, -50)
  dimension "d64" = 20
extrude "Extrusion5" cut sketch "Skizze9" against normal through all contours A24 A32 L0 | L0 A32 L18 A24 | A24 L4 A36 L14 A32 | A32 A24 L16 L0 | L0 L16 A32 | L18 A32 L15 A36 L4 | A32 L21 A24 | L16 L21 A37 A35 L18 | L18 A35 A37 L22 A32 | A36 L15 A33 L4 | L4 A34 L14 A36 | L21 L14 A34 L3 A24 | A24 L19 A35 A37 L21 | L4 A33 L14 A34 | A35 L23 A37 | L4 A25 L3 A34 L14 A33
properties part number "60_Planktoscope_MicroscopeHolderXYZ_Bottom_v0"
